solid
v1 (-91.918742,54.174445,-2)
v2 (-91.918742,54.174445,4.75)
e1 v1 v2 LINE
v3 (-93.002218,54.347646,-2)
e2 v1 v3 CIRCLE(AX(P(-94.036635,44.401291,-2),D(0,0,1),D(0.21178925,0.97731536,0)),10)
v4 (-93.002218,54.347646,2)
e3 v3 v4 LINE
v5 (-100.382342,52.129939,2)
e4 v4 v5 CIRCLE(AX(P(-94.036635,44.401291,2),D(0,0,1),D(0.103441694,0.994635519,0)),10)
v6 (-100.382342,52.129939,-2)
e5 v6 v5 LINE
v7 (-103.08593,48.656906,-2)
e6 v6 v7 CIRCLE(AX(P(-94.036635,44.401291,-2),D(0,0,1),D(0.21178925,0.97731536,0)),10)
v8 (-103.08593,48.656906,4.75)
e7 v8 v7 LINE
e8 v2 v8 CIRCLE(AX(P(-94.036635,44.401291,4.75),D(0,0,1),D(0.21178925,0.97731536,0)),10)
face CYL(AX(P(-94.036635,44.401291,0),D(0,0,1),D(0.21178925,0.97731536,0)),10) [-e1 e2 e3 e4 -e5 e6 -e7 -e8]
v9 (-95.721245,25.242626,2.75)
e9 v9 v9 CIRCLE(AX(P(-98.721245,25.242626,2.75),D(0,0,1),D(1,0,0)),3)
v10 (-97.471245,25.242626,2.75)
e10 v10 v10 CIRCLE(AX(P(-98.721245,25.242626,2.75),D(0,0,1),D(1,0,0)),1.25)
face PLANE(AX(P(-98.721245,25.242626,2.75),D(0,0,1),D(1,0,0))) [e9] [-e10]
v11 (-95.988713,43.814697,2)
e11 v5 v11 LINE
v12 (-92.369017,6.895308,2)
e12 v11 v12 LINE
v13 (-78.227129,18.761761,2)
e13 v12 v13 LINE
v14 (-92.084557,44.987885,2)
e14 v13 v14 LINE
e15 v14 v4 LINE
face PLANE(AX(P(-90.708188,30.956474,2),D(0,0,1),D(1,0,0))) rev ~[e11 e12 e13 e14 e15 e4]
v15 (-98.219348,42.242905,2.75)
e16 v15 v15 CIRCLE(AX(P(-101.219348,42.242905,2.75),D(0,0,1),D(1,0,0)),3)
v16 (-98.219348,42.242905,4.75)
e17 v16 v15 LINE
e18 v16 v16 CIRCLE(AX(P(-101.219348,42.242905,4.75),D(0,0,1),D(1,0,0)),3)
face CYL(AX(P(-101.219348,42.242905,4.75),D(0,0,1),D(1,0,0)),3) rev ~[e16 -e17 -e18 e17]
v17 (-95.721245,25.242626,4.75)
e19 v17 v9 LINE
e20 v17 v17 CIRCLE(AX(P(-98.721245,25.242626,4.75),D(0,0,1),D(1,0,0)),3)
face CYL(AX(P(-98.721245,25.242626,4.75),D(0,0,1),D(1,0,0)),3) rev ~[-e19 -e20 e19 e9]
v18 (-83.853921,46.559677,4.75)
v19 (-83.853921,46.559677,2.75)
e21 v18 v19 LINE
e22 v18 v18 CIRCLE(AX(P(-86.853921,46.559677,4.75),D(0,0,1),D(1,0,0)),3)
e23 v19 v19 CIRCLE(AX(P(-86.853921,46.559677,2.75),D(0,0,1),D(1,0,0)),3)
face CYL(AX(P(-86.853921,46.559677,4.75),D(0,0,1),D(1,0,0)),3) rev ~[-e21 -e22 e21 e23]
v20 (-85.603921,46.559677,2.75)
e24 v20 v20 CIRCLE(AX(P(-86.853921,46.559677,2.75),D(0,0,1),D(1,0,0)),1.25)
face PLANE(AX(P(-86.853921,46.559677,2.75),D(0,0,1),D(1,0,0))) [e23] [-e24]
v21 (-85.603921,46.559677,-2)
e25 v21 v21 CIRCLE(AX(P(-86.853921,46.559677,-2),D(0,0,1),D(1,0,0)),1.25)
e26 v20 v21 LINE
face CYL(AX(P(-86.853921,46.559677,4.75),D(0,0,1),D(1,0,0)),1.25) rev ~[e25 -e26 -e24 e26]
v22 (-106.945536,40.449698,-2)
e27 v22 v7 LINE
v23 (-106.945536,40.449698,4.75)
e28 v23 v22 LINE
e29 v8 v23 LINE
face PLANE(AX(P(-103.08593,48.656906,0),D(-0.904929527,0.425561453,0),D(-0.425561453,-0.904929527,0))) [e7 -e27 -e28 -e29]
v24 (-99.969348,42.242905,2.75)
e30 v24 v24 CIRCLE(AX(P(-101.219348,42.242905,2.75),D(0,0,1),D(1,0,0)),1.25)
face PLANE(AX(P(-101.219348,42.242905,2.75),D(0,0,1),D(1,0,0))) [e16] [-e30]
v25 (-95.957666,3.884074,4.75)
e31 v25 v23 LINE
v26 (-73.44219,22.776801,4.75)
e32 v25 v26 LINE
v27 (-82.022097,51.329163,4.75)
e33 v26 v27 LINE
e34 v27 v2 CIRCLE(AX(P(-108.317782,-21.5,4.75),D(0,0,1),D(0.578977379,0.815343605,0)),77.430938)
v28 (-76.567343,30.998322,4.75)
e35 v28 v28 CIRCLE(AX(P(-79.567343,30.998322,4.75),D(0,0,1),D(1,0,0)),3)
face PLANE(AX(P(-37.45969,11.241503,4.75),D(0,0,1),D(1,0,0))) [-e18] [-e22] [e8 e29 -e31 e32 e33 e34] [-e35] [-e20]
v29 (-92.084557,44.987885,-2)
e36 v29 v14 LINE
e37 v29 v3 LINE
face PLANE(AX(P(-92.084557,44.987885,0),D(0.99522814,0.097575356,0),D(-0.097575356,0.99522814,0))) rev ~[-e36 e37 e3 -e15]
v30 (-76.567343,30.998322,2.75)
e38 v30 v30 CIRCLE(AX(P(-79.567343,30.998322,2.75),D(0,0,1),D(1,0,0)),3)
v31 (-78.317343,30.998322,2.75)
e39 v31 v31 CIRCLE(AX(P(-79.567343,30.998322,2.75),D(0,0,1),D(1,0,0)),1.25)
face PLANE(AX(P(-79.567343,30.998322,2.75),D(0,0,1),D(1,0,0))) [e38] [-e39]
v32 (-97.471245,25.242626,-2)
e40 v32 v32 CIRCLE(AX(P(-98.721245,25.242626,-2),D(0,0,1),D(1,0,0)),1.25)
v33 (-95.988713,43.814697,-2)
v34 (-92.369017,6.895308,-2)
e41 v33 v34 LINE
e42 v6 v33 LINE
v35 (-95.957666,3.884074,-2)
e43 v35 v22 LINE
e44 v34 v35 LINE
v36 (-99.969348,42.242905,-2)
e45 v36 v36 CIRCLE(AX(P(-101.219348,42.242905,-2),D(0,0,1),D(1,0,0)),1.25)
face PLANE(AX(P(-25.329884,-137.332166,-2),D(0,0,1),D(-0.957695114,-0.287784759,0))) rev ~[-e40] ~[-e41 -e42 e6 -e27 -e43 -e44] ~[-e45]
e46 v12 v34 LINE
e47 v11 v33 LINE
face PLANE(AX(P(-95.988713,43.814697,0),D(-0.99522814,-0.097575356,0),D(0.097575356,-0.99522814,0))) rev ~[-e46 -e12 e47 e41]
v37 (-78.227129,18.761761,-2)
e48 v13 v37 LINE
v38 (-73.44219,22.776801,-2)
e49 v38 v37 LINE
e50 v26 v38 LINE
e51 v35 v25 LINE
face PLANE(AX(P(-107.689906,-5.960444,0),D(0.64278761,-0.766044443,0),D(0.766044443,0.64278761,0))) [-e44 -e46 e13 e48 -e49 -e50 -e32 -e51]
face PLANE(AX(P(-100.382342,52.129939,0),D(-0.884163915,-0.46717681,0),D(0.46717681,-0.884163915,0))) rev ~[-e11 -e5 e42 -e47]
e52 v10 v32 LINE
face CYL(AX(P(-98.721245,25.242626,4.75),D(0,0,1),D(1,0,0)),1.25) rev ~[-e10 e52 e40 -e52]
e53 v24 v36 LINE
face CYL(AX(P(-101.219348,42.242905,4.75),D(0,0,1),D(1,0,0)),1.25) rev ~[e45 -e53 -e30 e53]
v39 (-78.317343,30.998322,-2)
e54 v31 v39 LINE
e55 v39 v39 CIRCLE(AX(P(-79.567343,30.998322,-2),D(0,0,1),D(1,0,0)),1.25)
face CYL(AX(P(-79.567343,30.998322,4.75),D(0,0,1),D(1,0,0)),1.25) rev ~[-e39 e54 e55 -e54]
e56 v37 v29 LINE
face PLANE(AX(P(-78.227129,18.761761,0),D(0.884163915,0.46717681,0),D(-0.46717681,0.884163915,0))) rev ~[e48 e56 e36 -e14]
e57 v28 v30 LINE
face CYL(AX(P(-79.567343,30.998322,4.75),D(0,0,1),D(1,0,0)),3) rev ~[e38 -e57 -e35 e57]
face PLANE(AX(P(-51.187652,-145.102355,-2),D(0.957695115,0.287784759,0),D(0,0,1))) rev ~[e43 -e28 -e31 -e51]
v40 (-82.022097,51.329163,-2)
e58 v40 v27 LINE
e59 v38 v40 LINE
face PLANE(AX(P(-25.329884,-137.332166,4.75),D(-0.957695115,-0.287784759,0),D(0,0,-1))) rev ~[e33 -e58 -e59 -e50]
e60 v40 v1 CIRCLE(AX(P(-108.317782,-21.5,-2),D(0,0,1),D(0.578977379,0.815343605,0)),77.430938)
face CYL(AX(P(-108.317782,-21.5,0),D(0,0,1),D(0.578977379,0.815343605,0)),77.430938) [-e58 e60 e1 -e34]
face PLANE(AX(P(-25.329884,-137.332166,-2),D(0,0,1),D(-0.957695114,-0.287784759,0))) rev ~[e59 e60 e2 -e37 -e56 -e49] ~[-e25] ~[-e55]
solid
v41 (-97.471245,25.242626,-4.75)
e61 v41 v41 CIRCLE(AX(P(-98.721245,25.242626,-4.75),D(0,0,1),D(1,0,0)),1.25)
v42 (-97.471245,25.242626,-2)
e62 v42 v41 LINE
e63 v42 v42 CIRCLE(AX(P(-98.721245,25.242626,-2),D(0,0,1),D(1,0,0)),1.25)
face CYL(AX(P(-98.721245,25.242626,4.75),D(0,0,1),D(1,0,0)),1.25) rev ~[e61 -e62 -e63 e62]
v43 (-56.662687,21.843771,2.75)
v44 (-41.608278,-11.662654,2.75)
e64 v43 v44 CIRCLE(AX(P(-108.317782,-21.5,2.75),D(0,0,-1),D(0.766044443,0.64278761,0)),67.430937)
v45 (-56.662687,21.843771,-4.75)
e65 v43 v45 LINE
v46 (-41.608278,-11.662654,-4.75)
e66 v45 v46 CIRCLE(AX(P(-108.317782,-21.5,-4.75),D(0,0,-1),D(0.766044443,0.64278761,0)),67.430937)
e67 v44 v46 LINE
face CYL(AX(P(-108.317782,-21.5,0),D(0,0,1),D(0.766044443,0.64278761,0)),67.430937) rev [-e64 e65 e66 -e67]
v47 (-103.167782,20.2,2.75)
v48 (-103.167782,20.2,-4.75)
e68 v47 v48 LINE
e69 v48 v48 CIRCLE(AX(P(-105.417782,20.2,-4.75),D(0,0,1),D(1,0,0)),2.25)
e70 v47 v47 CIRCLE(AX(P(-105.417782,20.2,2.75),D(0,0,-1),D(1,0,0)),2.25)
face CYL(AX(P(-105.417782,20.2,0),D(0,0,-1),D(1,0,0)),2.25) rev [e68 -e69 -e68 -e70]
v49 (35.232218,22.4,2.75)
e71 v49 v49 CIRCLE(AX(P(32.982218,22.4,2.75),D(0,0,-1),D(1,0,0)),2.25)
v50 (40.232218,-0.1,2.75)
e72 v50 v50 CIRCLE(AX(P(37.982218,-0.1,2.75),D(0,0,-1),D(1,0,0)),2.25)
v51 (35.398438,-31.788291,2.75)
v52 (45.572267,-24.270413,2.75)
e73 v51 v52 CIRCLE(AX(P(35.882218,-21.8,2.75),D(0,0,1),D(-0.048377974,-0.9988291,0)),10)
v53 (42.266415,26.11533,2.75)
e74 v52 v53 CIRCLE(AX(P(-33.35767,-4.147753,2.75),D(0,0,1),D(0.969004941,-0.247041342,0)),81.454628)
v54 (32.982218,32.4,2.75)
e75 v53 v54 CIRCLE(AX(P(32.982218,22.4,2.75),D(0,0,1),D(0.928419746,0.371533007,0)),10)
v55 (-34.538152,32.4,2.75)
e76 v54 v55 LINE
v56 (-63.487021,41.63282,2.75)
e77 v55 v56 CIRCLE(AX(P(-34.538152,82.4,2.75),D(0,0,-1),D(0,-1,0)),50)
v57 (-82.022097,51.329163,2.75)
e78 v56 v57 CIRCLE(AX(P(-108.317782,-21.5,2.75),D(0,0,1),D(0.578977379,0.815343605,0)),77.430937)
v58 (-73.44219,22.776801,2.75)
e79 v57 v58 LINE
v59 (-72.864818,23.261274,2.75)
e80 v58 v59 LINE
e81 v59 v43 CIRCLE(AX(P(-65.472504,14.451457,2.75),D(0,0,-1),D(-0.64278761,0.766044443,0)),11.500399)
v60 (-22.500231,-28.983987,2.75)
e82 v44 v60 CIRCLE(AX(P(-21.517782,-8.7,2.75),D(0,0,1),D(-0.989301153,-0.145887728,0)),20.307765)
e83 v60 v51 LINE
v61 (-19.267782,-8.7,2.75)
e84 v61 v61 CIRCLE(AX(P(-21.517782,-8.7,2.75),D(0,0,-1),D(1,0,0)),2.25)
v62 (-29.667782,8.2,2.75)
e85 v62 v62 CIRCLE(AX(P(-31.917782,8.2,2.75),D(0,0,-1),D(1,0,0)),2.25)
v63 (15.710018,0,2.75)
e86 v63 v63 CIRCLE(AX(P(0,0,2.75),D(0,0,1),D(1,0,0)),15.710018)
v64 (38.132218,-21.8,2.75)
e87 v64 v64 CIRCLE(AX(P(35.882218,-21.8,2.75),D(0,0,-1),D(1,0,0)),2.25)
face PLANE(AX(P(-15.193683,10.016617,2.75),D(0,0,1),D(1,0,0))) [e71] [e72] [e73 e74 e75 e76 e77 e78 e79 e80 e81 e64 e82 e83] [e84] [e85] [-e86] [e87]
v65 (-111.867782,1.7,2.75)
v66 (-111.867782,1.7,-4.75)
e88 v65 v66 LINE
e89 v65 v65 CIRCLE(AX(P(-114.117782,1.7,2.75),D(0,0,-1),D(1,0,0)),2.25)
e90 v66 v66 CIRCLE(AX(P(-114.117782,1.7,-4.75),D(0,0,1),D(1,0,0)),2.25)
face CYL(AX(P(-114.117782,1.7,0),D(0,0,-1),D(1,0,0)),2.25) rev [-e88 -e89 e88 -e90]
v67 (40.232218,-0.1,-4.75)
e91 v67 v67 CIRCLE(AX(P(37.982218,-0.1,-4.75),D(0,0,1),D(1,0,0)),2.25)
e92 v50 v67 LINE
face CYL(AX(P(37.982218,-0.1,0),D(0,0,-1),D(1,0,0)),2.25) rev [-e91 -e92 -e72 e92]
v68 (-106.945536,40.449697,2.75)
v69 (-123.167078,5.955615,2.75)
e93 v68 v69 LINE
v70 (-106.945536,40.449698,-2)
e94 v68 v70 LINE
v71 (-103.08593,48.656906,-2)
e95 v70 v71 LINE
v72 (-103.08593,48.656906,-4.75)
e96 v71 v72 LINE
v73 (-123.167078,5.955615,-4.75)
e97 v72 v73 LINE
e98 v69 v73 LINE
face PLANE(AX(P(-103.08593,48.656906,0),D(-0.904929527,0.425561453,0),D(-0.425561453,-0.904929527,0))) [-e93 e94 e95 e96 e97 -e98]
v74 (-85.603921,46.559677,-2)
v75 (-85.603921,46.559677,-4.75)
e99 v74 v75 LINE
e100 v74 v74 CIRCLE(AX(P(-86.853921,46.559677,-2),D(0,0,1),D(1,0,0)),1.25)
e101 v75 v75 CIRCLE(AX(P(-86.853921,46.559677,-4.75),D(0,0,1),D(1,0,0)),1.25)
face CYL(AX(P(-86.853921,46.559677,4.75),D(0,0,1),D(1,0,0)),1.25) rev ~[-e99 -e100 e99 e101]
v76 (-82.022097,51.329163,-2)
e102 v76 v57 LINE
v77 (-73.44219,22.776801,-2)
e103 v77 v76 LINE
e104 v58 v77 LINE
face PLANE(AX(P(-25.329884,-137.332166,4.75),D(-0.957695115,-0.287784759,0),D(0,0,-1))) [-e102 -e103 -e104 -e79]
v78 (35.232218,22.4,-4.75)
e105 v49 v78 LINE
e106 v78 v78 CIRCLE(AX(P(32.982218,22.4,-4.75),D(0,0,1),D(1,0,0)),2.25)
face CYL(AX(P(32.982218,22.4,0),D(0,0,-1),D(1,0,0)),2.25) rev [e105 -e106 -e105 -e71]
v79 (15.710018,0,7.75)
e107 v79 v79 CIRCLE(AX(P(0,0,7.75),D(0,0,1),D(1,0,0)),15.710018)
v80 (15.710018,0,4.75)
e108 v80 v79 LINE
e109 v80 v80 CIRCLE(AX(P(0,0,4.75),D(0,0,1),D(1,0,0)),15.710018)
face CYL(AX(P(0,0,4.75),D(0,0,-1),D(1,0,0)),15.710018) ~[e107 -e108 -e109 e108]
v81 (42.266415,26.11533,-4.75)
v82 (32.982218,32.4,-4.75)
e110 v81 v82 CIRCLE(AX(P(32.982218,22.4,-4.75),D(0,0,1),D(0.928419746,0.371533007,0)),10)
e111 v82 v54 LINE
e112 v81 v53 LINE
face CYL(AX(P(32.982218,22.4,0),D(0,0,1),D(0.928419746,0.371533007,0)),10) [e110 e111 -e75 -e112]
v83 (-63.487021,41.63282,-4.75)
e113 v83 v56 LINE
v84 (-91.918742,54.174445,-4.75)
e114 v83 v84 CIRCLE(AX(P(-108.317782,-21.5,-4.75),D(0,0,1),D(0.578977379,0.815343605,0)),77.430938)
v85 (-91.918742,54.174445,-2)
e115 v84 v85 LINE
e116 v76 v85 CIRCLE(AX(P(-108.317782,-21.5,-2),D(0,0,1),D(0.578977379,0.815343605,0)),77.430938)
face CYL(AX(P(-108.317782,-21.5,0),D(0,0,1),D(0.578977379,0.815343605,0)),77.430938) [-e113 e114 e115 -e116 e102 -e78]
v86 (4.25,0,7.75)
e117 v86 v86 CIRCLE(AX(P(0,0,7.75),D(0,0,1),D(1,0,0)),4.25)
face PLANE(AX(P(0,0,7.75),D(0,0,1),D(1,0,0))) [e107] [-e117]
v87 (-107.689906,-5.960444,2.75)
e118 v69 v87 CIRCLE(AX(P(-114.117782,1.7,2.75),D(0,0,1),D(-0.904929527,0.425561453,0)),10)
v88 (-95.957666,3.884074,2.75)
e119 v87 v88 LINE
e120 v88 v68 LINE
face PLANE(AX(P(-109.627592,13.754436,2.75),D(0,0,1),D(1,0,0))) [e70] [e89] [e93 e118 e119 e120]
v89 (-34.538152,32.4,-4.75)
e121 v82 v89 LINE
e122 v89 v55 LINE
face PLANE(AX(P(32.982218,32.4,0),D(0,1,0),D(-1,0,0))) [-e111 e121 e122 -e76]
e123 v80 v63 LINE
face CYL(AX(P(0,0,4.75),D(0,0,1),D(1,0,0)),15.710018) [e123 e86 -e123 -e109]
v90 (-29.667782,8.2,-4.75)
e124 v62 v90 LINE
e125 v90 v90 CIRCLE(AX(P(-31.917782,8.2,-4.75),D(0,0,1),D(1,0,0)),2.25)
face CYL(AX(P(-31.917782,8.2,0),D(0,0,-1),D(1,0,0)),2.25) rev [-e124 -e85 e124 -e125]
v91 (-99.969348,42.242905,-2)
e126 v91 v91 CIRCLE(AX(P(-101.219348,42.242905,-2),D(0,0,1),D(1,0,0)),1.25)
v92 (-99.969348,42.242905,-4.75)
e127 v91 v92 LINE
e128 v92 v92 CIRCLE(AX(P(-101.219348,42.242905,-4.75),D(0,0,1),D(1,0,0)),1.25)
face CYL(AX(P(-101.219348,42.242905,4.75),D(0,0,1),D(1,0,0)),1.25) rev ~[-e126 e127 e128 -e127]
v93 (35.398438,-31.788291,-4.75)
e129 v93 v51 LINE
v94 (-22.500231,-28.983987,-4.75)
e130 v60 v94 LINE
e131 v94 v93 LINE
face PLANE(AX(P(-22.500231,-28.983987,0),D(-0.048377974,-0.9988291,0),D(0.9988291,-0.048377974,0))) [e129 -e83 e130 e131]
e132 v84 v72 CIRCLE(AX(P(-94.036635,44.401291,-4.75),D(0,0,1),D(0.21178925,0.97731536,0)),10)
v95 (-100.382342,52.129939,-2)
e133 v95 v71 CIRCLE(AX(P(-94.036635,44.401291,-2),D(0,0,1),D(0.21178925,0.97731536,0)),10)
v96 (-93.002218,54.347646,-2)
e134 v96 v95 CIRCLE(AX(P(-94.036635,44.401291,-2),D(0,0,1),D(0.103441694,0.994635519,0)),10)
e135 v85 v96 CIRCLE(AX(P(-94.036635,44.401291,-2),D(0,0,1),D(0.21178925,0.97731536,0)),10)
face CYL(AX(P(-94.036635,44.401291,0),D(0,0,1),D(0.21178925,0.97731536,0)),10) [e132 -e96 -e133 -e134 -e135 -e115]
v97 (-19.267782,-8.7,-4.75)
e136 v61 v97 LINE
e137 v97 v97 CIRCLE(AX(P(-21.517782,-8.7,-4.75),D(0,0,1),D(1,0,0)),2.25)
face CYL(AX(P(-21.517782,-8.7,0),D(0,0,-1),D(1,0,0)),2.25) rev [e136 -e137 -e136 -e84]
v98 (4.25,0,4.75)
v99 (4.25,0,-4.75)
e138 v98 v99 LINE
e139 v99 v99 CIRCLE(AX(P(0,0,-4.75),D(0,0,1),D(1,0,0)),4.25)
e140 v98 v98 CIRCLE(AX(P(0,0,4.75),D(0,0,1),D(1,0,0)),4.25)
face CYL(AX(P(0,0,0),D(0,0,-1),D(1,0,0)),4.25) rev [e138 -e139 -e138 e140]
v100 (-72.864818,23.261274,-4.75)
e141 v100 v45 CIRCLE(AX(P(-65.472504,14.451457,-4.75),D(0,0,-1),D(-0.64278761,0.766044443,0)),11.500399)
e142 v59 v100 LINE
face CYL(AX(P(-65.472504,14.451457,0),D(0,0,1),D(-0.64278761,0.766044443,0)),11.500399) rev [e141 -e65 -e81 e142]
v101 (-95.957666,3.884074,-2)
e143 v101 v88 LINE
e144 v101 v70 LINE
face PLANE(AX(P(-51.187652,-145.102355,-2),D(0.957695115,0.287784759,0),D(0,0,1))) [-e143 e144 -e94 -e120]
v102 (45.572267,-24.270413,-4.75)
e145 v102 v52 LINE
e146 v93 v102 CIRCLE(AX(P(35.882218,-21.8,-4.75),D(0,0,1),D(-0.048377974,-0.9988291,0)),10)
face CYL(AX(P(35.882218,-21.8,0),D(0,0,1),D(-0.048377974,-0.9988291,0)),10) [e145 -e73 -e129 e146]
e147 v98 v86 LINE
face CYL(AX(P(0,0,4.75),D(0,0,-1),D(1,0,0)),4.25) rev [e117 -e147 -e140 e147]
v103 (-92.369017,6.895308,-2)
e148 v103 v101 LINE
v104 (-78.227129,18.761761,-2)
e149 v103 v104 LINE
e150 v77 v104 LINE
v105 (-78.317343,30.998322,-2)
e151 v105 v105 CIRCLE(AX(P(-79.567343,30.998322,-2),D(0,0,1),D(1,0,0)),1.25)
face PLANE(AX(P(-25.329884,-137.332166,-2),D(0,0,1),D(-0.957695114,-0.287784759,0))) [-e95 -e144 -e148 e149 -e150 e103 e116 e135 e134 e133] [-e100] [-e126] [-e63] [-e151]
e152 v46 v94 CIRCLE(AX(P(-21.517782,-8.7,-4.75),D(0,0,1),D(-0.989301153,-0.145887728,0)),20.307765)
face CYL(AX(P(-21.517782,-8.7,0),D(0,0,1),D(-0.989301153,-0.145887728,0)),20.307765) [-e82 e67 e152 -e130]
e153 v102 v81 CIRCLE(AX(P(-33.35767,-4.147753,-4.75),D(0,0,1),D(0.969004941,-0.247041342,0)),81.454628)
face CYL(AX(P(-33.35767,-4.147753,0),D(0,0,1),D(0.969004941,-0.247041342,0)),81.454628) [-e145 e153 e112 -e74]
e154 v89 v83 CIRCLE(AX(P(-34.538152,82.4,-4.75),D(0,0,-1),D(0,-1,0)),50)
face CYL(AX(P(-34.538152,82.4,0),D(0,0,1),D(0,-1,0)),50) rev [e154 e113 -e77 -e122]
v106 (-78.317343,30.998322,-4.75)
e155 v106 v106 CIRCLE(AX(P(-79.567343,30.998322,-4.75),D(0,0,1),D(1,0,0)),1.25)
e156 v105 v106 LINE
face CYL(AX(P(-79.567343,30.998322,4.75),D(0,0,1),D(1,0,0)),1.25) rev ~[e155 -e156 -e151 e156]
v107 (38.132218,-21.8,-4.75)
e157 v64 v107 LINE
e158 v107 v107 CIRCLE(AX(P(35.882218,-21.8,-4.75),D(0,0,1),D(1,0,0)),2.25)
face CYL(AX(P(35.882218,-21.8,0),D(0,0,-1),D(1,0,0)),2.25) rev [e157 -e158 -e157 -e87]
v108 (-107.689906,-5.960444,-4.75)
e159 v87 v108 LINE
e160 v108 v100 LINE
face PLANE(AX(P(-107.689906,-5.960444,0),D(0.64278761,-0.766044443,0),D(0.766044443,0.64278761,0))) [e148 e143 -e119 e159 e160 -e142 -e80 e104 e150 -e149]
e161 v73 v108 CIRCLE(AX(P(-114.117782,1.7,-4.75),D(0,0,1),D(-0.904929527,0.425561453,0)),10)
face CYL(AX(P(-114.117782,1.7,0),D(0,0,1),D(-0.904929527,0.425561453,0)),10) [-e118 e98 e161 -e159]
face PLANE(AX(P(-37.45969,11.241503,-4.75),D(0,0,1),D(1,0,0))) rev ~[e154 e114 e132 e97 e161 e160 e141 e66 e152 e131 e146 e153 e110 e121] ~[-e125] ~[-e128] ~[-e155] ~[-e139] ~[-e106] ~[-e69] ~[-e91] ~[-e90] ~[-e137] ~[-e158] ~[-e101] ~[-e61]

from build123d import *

# Parameters (mm, degrees)
SKETCH1_R              = 4.25
SKETCH1_R_2            = 2.25
BOSS_EXTRUDE1_DEPTH    = 4.75
CUT_EXTRUDE1_DEPTH     = 2
SKETCH4_R              = 1.25
CUT_EXTRUDE2_DEPTH     = 136.849086626
SKETCH5_R              = 3
CUT_EXTRUDE3_DEPTH     = 2
SPLIT3_SURFACE_1_BACK  = 193.818
SPLIT3_SURFACE_1_DEPTH = 387.636
SPLIT3_SURFACE_2_BACK  = 193.818
SPLIT3_SURFACE_2_DEPTH = 387.636
SKETCH6_R              = 15.710018396
CUT_EXTRUDE4_DEPTH     = 2
SKETCH7_R              = 15.710018396
SKETCH7_R_2            = 4.25
BOSS_EXTRUDE2_DEPTH    = 3


with BuildPart() as part:
    # Sketch1 → Boss-Extrude1 (new, symmetric)
    with BuildSketch(Plane.XY):
        with BuildLine():
            Line((-22.500230832, -28.983987123), (35.398437983, -31.788291003))
            ThreePointArc((35.398437983, -31.788291003), (41.825152283, -29.842482755), (45.572267137, -24.270413418))
            ThreePointArc((45.572267137, -24.270413418), (47.922199842, 1.185089324), (42.266415188, 26.115330067))
            ThreePointArc((42.266415188, 26.115330067), (38.587871094, 30.681102), (32.982217728, 32.4))
            Line((32.982217728, 32.4), (-34.53815208, 32.4))
            ThreePointArc((-34.53815208, 32.4), (-49.730929753, 34.764094355), (-63.487021029, 41.632819737))
            ThreePointArc((-63.487021029, 41.632819737), (-77.067258547, 49.344582351), (-91.918742124, 54.174444589))
            ThreePointArc((-91.918742124, 54.174444589), (-98.466295495, 53.366674665), (-103.085929893, 48.656905518))
            Line((-103.085929893, 48.656905518), (-123.167077545, 5.955614534))
            ThreePointArc((-123.167077545, 5.955614534), (-120.218280198, -6.2236308), (-107.689906175, -5.960444431))
            Line((-107.689906175, -5.960444431), (-72.864818345, 23.261273923))
            ThreePointArc((-72.864818345, 23.261273923), (-64.470178387, 25.908093735), (-56.662687309, 21.843771132))
            ThreePointArc((-56.662687309, 21.843771132), (-46.809939593, 6.135423294), (-41.608278072, -11.662653759))
            ThreePointArc((-41.608278072, -11.662653759), (-35.156858245, -23.745961099), (-22.500230832, -28.983987123))
        make_face()
        Circle(SKETCH1_R, mode=Mode.SUBTRACT)
        with Locations((35.882217728, -21.8)):
            Circle(SKETCH1_R_2, mode=Mode.SUBTRACT)
        with Locations((-21.517782272, -8.7)):
            Circle(SKETCH1_R_2, mode=Mode.SUBTRACT)
        with Locations((37.982217728, -0.1)):
            Circle(SKETCH1_R_2, mode=Mode.SUBTRACT)
        with Locations((32.982217728, 22.4)):
            Circle(SKETCH1_R_2, mode=Mode.SUBTRACT)
        with Locations((-31.917782272, 8.2)):
            Circle(SKETCH1_R_2, mode=Mode.SUBTRACT)
        with Locations((-105.417782272, 20.2)):
            Circle(SKETCH1_R_2, mode=Mode.SUBTRACT)
        with Locations((-114.117782272, 1.7)):
            Circle(SKETCH1_R_2, mode=Mode.SUBTRACT)
    extrude(amount=BOSS_EXTRUDE1_DEPTH, both=True)

    # Sketch2 → Cut-Extrude1 (cut, symmetric)
    with BuildSketch(Plane.XY):
        with BuildLine():
            Line((-78.227129447, 18.761760655), (-92.084556702, 44.987885053))
            Line((-92.084556702, 44.987885053), (-93.002217677, 54.347646176))
            ThreePointArc((-93.002217677, 54.347646176), (-96.914482214, 53.978242129), (-100.382341665, 52.129939126))
            Line((-100.382341665, 52.129939126), (-95.988712538, 43.814696915))
            Line((-95.988712538, 43.814696915), (-92.369017313, 6.895307763))
            Line((-92.369017313, 6.895307763), (-78.227129447, 18.761760655))
        make_face()
    extrude(amount=CUT_EXTRUDE1_DEPTH, both=True, mode=Mode.SUBTRACT)

    # Sketch4 → Cut-Extrude2 (cut, through all)
    with BuildSketch(Plane.XY.offset(4.75)):
        with Locations((-98.721244854, 25.242626445)):
            Circle(SKETCH4_R)
        with Locations((-101.219347979, 42.242905289)):
            Circle(SKETCH4_R)
        with Locations((-86.853921262, 46.55967668)):
            Circle(SKETCH4_R)
        with Locations((-79.567342565, 30.998321633)):
            Circle(SKETCH4_R)
    extrude(amount=-CUT_EXTRUDE2_DEPTH, mode=Mode.SUBTRACT)

    # Sketch5 → Cut-Extrude3 (cut)
    with BuildSketch(Plane.XY.offset(4.75)):
        with Locations((-101.219347979, 42.242905289)):
            Circle(SKETCH5_R)
        with Locations((-86.853921262, 46.55967668)):
            Circle(SKETCH5_R)
        with Locations((-79.567342565, 30.998321633)):
            Circle(SKETCH5_R)
        with Locations((-98.721244854, 25.242626445)):
            Circle(SKETCH5_R)
    extrude(amount=-CUT_EXTRUDE3_DEPTH, mode=Mode.SUBTRACT)


with BuildPart() as body_2:
    # Split3: the piece behind the surface
    add(part.part)
    # Split3 surface: a surface, the sketch's curves swept straight by 387.636 mm
    with BuildLine(Plane(origin=(-20.02556284, 66.641415389, 0), x_dir=(0.9576951144500195, 0.2877847594271872, 0), z_dir=(-0.2877847594271872, 0.9576951144500195, 0)).offset(-SPLIT3_SURFACE_1_BACK), mode=Mode.PRIVATE) as split3_surface_1_path:
        Line((-63.780410711, -4.75), (-63.780410711, 2))
        Line((-63.780410711, 2), (-90.780410711, 2))
        Line((-90.780410711, 2), (-90.780410711, -4.75))
    split3_surface_1 = Shell.extrude(split3_surface_1_path.wire(), (-0.287784759 * SPLIT3_SURFACE_1_DEPTH, 0.957695114 * SPLIT3_SURFACE_1_DEPTH, 0 * SPLIT3_SURFACE_1_DEPTH))
    split(bisect_by=split3_surface_1, keep=Keep.BOTTOM)

    # Sketch6 → Cut-Extrude4 (cut)
    # profile 1 of 2: a face of its own
    with BuildSketch(Plane.XY.offset(4.75)):
        with BuildLine():
            Line((-95.957666069, 3.884073915), (-106.945535827, 40.449697498))
            Line((-106.945535827, 40.449697498), (-123.167077545, 5.955614534))
            ThreePointArc((-123.167077545, 5.955614534), (-120.218280198, -6.2236308), (-107.689906175, -5.960444431))
            Line((-107.689906175, -5.960444431), (-95.957666069, 3.884073915))
        make_face()
    # profile 2 of 2: a face of its own
    with BuildSketch(Plane.XY.offset(4.75)):
        with BuildLine():
            Line((-82.022097036, 51.329163249), (-73.442190431, 22.776801219))
            Line((-73.442190431, 22.776801219), (-72.864818345, 23.261273923))
            ThreePointArc((-72.864818345, 23.261273923), (-64.470178387, 25.908093735), (-56.662687309, 21.843771132))
            ThreePointArc((-56.662687309, 21.843771132), (-46.809939593, 6.135423294), (-41.608278072, -11.662653759))
            ThreePointArc((-41.608278072, -11.662653759), (-35.156858245, -23.745961099), (-22.500230832, -28.983987123))
            Line((-22.500230832, -28.983987123), (35.398437983, -31.788291003))
            ThreePointArc((35.398437983, -31.788291003), (41.825152283, -29.842482755), (45.572267137, -24.270413418))
            ThreePointArc((45.572267137, -24.270413418), (47.922199842, 1.185089324), (42.266415188, 26.115330067))
            ThreePointArc((42.266415188, 26.115330067), (38.587871094, 30.681102), (32.982217728, 32.4))
            Line((32.982217728, 32.4), (-34.53815208, 32.4))
            ThreePointArc((-34.53815208, 32.4), (-49.730929753, 34.764094355), (-63.487021029, 41.632819737))
            ThreePointArc((-63.487021029, 41.632819737), (-72.425615765, 47.109784033), (-82.022097036, 51.329163249))
        make_face()
        Circle(SKETCH6_R, mode=Mode.SUBTRACT)
    extrude(amount=-CUT_EXTRUDE4_DEPTH, mode=Mode.SUBTRACT)

    # Sketch7 → Boss-Extrude2 (add)
    with BuildSketch(Plane.XY.offset(4.75)):
        Circle(SKETCH7_R)
        Circle(SKETCH7_R_2, mode=Mode.SUBTRACT)
    extrude(amount=BOSS_EXTRUDE2_DEPTH)


with BuildPart() as part_1:
    add(part.part)

    # Split3: split by a surface, the side it looks to stays
    # Split3 surface: a surface, the sketch's curves swept straight by 387.636 mm
    with BuildLine(Plane(origin=(-20.02556284, 66.641415389, 0), x_dir=(0.9576951144500195, 0.2877847594271872, 0), z_dir=(-0.2877847594271872, 0.9576951144500195, 0)).offset(-SPLIT3_SURFACE_2_BACK), mode=Mode.PRIVATE) as split3_surface_2_path:
        Line((-63.780410711, -4.75), (-63.780410711, 2))
        Line((-63.780410711, 2), (-90.780410711, 2))
        Line((-90.780410711, 2), (-90.780410711, -4.75))
    split3_surface_2 = Shell.extrude(split3_surface_2_path.wire(), (-0.287784759 * SPLIT3_SURFACE_2_DEPTH, 0.957695114 * SPLIT3_SURFACE_2_DEPTH, 0 * SPLIT3_SURFACE_2_DEPTH))
    split(bisect_by=split3_surface_2, keep=Keep.TOP)


solid = Compound([body_2.part, part_1.part])
